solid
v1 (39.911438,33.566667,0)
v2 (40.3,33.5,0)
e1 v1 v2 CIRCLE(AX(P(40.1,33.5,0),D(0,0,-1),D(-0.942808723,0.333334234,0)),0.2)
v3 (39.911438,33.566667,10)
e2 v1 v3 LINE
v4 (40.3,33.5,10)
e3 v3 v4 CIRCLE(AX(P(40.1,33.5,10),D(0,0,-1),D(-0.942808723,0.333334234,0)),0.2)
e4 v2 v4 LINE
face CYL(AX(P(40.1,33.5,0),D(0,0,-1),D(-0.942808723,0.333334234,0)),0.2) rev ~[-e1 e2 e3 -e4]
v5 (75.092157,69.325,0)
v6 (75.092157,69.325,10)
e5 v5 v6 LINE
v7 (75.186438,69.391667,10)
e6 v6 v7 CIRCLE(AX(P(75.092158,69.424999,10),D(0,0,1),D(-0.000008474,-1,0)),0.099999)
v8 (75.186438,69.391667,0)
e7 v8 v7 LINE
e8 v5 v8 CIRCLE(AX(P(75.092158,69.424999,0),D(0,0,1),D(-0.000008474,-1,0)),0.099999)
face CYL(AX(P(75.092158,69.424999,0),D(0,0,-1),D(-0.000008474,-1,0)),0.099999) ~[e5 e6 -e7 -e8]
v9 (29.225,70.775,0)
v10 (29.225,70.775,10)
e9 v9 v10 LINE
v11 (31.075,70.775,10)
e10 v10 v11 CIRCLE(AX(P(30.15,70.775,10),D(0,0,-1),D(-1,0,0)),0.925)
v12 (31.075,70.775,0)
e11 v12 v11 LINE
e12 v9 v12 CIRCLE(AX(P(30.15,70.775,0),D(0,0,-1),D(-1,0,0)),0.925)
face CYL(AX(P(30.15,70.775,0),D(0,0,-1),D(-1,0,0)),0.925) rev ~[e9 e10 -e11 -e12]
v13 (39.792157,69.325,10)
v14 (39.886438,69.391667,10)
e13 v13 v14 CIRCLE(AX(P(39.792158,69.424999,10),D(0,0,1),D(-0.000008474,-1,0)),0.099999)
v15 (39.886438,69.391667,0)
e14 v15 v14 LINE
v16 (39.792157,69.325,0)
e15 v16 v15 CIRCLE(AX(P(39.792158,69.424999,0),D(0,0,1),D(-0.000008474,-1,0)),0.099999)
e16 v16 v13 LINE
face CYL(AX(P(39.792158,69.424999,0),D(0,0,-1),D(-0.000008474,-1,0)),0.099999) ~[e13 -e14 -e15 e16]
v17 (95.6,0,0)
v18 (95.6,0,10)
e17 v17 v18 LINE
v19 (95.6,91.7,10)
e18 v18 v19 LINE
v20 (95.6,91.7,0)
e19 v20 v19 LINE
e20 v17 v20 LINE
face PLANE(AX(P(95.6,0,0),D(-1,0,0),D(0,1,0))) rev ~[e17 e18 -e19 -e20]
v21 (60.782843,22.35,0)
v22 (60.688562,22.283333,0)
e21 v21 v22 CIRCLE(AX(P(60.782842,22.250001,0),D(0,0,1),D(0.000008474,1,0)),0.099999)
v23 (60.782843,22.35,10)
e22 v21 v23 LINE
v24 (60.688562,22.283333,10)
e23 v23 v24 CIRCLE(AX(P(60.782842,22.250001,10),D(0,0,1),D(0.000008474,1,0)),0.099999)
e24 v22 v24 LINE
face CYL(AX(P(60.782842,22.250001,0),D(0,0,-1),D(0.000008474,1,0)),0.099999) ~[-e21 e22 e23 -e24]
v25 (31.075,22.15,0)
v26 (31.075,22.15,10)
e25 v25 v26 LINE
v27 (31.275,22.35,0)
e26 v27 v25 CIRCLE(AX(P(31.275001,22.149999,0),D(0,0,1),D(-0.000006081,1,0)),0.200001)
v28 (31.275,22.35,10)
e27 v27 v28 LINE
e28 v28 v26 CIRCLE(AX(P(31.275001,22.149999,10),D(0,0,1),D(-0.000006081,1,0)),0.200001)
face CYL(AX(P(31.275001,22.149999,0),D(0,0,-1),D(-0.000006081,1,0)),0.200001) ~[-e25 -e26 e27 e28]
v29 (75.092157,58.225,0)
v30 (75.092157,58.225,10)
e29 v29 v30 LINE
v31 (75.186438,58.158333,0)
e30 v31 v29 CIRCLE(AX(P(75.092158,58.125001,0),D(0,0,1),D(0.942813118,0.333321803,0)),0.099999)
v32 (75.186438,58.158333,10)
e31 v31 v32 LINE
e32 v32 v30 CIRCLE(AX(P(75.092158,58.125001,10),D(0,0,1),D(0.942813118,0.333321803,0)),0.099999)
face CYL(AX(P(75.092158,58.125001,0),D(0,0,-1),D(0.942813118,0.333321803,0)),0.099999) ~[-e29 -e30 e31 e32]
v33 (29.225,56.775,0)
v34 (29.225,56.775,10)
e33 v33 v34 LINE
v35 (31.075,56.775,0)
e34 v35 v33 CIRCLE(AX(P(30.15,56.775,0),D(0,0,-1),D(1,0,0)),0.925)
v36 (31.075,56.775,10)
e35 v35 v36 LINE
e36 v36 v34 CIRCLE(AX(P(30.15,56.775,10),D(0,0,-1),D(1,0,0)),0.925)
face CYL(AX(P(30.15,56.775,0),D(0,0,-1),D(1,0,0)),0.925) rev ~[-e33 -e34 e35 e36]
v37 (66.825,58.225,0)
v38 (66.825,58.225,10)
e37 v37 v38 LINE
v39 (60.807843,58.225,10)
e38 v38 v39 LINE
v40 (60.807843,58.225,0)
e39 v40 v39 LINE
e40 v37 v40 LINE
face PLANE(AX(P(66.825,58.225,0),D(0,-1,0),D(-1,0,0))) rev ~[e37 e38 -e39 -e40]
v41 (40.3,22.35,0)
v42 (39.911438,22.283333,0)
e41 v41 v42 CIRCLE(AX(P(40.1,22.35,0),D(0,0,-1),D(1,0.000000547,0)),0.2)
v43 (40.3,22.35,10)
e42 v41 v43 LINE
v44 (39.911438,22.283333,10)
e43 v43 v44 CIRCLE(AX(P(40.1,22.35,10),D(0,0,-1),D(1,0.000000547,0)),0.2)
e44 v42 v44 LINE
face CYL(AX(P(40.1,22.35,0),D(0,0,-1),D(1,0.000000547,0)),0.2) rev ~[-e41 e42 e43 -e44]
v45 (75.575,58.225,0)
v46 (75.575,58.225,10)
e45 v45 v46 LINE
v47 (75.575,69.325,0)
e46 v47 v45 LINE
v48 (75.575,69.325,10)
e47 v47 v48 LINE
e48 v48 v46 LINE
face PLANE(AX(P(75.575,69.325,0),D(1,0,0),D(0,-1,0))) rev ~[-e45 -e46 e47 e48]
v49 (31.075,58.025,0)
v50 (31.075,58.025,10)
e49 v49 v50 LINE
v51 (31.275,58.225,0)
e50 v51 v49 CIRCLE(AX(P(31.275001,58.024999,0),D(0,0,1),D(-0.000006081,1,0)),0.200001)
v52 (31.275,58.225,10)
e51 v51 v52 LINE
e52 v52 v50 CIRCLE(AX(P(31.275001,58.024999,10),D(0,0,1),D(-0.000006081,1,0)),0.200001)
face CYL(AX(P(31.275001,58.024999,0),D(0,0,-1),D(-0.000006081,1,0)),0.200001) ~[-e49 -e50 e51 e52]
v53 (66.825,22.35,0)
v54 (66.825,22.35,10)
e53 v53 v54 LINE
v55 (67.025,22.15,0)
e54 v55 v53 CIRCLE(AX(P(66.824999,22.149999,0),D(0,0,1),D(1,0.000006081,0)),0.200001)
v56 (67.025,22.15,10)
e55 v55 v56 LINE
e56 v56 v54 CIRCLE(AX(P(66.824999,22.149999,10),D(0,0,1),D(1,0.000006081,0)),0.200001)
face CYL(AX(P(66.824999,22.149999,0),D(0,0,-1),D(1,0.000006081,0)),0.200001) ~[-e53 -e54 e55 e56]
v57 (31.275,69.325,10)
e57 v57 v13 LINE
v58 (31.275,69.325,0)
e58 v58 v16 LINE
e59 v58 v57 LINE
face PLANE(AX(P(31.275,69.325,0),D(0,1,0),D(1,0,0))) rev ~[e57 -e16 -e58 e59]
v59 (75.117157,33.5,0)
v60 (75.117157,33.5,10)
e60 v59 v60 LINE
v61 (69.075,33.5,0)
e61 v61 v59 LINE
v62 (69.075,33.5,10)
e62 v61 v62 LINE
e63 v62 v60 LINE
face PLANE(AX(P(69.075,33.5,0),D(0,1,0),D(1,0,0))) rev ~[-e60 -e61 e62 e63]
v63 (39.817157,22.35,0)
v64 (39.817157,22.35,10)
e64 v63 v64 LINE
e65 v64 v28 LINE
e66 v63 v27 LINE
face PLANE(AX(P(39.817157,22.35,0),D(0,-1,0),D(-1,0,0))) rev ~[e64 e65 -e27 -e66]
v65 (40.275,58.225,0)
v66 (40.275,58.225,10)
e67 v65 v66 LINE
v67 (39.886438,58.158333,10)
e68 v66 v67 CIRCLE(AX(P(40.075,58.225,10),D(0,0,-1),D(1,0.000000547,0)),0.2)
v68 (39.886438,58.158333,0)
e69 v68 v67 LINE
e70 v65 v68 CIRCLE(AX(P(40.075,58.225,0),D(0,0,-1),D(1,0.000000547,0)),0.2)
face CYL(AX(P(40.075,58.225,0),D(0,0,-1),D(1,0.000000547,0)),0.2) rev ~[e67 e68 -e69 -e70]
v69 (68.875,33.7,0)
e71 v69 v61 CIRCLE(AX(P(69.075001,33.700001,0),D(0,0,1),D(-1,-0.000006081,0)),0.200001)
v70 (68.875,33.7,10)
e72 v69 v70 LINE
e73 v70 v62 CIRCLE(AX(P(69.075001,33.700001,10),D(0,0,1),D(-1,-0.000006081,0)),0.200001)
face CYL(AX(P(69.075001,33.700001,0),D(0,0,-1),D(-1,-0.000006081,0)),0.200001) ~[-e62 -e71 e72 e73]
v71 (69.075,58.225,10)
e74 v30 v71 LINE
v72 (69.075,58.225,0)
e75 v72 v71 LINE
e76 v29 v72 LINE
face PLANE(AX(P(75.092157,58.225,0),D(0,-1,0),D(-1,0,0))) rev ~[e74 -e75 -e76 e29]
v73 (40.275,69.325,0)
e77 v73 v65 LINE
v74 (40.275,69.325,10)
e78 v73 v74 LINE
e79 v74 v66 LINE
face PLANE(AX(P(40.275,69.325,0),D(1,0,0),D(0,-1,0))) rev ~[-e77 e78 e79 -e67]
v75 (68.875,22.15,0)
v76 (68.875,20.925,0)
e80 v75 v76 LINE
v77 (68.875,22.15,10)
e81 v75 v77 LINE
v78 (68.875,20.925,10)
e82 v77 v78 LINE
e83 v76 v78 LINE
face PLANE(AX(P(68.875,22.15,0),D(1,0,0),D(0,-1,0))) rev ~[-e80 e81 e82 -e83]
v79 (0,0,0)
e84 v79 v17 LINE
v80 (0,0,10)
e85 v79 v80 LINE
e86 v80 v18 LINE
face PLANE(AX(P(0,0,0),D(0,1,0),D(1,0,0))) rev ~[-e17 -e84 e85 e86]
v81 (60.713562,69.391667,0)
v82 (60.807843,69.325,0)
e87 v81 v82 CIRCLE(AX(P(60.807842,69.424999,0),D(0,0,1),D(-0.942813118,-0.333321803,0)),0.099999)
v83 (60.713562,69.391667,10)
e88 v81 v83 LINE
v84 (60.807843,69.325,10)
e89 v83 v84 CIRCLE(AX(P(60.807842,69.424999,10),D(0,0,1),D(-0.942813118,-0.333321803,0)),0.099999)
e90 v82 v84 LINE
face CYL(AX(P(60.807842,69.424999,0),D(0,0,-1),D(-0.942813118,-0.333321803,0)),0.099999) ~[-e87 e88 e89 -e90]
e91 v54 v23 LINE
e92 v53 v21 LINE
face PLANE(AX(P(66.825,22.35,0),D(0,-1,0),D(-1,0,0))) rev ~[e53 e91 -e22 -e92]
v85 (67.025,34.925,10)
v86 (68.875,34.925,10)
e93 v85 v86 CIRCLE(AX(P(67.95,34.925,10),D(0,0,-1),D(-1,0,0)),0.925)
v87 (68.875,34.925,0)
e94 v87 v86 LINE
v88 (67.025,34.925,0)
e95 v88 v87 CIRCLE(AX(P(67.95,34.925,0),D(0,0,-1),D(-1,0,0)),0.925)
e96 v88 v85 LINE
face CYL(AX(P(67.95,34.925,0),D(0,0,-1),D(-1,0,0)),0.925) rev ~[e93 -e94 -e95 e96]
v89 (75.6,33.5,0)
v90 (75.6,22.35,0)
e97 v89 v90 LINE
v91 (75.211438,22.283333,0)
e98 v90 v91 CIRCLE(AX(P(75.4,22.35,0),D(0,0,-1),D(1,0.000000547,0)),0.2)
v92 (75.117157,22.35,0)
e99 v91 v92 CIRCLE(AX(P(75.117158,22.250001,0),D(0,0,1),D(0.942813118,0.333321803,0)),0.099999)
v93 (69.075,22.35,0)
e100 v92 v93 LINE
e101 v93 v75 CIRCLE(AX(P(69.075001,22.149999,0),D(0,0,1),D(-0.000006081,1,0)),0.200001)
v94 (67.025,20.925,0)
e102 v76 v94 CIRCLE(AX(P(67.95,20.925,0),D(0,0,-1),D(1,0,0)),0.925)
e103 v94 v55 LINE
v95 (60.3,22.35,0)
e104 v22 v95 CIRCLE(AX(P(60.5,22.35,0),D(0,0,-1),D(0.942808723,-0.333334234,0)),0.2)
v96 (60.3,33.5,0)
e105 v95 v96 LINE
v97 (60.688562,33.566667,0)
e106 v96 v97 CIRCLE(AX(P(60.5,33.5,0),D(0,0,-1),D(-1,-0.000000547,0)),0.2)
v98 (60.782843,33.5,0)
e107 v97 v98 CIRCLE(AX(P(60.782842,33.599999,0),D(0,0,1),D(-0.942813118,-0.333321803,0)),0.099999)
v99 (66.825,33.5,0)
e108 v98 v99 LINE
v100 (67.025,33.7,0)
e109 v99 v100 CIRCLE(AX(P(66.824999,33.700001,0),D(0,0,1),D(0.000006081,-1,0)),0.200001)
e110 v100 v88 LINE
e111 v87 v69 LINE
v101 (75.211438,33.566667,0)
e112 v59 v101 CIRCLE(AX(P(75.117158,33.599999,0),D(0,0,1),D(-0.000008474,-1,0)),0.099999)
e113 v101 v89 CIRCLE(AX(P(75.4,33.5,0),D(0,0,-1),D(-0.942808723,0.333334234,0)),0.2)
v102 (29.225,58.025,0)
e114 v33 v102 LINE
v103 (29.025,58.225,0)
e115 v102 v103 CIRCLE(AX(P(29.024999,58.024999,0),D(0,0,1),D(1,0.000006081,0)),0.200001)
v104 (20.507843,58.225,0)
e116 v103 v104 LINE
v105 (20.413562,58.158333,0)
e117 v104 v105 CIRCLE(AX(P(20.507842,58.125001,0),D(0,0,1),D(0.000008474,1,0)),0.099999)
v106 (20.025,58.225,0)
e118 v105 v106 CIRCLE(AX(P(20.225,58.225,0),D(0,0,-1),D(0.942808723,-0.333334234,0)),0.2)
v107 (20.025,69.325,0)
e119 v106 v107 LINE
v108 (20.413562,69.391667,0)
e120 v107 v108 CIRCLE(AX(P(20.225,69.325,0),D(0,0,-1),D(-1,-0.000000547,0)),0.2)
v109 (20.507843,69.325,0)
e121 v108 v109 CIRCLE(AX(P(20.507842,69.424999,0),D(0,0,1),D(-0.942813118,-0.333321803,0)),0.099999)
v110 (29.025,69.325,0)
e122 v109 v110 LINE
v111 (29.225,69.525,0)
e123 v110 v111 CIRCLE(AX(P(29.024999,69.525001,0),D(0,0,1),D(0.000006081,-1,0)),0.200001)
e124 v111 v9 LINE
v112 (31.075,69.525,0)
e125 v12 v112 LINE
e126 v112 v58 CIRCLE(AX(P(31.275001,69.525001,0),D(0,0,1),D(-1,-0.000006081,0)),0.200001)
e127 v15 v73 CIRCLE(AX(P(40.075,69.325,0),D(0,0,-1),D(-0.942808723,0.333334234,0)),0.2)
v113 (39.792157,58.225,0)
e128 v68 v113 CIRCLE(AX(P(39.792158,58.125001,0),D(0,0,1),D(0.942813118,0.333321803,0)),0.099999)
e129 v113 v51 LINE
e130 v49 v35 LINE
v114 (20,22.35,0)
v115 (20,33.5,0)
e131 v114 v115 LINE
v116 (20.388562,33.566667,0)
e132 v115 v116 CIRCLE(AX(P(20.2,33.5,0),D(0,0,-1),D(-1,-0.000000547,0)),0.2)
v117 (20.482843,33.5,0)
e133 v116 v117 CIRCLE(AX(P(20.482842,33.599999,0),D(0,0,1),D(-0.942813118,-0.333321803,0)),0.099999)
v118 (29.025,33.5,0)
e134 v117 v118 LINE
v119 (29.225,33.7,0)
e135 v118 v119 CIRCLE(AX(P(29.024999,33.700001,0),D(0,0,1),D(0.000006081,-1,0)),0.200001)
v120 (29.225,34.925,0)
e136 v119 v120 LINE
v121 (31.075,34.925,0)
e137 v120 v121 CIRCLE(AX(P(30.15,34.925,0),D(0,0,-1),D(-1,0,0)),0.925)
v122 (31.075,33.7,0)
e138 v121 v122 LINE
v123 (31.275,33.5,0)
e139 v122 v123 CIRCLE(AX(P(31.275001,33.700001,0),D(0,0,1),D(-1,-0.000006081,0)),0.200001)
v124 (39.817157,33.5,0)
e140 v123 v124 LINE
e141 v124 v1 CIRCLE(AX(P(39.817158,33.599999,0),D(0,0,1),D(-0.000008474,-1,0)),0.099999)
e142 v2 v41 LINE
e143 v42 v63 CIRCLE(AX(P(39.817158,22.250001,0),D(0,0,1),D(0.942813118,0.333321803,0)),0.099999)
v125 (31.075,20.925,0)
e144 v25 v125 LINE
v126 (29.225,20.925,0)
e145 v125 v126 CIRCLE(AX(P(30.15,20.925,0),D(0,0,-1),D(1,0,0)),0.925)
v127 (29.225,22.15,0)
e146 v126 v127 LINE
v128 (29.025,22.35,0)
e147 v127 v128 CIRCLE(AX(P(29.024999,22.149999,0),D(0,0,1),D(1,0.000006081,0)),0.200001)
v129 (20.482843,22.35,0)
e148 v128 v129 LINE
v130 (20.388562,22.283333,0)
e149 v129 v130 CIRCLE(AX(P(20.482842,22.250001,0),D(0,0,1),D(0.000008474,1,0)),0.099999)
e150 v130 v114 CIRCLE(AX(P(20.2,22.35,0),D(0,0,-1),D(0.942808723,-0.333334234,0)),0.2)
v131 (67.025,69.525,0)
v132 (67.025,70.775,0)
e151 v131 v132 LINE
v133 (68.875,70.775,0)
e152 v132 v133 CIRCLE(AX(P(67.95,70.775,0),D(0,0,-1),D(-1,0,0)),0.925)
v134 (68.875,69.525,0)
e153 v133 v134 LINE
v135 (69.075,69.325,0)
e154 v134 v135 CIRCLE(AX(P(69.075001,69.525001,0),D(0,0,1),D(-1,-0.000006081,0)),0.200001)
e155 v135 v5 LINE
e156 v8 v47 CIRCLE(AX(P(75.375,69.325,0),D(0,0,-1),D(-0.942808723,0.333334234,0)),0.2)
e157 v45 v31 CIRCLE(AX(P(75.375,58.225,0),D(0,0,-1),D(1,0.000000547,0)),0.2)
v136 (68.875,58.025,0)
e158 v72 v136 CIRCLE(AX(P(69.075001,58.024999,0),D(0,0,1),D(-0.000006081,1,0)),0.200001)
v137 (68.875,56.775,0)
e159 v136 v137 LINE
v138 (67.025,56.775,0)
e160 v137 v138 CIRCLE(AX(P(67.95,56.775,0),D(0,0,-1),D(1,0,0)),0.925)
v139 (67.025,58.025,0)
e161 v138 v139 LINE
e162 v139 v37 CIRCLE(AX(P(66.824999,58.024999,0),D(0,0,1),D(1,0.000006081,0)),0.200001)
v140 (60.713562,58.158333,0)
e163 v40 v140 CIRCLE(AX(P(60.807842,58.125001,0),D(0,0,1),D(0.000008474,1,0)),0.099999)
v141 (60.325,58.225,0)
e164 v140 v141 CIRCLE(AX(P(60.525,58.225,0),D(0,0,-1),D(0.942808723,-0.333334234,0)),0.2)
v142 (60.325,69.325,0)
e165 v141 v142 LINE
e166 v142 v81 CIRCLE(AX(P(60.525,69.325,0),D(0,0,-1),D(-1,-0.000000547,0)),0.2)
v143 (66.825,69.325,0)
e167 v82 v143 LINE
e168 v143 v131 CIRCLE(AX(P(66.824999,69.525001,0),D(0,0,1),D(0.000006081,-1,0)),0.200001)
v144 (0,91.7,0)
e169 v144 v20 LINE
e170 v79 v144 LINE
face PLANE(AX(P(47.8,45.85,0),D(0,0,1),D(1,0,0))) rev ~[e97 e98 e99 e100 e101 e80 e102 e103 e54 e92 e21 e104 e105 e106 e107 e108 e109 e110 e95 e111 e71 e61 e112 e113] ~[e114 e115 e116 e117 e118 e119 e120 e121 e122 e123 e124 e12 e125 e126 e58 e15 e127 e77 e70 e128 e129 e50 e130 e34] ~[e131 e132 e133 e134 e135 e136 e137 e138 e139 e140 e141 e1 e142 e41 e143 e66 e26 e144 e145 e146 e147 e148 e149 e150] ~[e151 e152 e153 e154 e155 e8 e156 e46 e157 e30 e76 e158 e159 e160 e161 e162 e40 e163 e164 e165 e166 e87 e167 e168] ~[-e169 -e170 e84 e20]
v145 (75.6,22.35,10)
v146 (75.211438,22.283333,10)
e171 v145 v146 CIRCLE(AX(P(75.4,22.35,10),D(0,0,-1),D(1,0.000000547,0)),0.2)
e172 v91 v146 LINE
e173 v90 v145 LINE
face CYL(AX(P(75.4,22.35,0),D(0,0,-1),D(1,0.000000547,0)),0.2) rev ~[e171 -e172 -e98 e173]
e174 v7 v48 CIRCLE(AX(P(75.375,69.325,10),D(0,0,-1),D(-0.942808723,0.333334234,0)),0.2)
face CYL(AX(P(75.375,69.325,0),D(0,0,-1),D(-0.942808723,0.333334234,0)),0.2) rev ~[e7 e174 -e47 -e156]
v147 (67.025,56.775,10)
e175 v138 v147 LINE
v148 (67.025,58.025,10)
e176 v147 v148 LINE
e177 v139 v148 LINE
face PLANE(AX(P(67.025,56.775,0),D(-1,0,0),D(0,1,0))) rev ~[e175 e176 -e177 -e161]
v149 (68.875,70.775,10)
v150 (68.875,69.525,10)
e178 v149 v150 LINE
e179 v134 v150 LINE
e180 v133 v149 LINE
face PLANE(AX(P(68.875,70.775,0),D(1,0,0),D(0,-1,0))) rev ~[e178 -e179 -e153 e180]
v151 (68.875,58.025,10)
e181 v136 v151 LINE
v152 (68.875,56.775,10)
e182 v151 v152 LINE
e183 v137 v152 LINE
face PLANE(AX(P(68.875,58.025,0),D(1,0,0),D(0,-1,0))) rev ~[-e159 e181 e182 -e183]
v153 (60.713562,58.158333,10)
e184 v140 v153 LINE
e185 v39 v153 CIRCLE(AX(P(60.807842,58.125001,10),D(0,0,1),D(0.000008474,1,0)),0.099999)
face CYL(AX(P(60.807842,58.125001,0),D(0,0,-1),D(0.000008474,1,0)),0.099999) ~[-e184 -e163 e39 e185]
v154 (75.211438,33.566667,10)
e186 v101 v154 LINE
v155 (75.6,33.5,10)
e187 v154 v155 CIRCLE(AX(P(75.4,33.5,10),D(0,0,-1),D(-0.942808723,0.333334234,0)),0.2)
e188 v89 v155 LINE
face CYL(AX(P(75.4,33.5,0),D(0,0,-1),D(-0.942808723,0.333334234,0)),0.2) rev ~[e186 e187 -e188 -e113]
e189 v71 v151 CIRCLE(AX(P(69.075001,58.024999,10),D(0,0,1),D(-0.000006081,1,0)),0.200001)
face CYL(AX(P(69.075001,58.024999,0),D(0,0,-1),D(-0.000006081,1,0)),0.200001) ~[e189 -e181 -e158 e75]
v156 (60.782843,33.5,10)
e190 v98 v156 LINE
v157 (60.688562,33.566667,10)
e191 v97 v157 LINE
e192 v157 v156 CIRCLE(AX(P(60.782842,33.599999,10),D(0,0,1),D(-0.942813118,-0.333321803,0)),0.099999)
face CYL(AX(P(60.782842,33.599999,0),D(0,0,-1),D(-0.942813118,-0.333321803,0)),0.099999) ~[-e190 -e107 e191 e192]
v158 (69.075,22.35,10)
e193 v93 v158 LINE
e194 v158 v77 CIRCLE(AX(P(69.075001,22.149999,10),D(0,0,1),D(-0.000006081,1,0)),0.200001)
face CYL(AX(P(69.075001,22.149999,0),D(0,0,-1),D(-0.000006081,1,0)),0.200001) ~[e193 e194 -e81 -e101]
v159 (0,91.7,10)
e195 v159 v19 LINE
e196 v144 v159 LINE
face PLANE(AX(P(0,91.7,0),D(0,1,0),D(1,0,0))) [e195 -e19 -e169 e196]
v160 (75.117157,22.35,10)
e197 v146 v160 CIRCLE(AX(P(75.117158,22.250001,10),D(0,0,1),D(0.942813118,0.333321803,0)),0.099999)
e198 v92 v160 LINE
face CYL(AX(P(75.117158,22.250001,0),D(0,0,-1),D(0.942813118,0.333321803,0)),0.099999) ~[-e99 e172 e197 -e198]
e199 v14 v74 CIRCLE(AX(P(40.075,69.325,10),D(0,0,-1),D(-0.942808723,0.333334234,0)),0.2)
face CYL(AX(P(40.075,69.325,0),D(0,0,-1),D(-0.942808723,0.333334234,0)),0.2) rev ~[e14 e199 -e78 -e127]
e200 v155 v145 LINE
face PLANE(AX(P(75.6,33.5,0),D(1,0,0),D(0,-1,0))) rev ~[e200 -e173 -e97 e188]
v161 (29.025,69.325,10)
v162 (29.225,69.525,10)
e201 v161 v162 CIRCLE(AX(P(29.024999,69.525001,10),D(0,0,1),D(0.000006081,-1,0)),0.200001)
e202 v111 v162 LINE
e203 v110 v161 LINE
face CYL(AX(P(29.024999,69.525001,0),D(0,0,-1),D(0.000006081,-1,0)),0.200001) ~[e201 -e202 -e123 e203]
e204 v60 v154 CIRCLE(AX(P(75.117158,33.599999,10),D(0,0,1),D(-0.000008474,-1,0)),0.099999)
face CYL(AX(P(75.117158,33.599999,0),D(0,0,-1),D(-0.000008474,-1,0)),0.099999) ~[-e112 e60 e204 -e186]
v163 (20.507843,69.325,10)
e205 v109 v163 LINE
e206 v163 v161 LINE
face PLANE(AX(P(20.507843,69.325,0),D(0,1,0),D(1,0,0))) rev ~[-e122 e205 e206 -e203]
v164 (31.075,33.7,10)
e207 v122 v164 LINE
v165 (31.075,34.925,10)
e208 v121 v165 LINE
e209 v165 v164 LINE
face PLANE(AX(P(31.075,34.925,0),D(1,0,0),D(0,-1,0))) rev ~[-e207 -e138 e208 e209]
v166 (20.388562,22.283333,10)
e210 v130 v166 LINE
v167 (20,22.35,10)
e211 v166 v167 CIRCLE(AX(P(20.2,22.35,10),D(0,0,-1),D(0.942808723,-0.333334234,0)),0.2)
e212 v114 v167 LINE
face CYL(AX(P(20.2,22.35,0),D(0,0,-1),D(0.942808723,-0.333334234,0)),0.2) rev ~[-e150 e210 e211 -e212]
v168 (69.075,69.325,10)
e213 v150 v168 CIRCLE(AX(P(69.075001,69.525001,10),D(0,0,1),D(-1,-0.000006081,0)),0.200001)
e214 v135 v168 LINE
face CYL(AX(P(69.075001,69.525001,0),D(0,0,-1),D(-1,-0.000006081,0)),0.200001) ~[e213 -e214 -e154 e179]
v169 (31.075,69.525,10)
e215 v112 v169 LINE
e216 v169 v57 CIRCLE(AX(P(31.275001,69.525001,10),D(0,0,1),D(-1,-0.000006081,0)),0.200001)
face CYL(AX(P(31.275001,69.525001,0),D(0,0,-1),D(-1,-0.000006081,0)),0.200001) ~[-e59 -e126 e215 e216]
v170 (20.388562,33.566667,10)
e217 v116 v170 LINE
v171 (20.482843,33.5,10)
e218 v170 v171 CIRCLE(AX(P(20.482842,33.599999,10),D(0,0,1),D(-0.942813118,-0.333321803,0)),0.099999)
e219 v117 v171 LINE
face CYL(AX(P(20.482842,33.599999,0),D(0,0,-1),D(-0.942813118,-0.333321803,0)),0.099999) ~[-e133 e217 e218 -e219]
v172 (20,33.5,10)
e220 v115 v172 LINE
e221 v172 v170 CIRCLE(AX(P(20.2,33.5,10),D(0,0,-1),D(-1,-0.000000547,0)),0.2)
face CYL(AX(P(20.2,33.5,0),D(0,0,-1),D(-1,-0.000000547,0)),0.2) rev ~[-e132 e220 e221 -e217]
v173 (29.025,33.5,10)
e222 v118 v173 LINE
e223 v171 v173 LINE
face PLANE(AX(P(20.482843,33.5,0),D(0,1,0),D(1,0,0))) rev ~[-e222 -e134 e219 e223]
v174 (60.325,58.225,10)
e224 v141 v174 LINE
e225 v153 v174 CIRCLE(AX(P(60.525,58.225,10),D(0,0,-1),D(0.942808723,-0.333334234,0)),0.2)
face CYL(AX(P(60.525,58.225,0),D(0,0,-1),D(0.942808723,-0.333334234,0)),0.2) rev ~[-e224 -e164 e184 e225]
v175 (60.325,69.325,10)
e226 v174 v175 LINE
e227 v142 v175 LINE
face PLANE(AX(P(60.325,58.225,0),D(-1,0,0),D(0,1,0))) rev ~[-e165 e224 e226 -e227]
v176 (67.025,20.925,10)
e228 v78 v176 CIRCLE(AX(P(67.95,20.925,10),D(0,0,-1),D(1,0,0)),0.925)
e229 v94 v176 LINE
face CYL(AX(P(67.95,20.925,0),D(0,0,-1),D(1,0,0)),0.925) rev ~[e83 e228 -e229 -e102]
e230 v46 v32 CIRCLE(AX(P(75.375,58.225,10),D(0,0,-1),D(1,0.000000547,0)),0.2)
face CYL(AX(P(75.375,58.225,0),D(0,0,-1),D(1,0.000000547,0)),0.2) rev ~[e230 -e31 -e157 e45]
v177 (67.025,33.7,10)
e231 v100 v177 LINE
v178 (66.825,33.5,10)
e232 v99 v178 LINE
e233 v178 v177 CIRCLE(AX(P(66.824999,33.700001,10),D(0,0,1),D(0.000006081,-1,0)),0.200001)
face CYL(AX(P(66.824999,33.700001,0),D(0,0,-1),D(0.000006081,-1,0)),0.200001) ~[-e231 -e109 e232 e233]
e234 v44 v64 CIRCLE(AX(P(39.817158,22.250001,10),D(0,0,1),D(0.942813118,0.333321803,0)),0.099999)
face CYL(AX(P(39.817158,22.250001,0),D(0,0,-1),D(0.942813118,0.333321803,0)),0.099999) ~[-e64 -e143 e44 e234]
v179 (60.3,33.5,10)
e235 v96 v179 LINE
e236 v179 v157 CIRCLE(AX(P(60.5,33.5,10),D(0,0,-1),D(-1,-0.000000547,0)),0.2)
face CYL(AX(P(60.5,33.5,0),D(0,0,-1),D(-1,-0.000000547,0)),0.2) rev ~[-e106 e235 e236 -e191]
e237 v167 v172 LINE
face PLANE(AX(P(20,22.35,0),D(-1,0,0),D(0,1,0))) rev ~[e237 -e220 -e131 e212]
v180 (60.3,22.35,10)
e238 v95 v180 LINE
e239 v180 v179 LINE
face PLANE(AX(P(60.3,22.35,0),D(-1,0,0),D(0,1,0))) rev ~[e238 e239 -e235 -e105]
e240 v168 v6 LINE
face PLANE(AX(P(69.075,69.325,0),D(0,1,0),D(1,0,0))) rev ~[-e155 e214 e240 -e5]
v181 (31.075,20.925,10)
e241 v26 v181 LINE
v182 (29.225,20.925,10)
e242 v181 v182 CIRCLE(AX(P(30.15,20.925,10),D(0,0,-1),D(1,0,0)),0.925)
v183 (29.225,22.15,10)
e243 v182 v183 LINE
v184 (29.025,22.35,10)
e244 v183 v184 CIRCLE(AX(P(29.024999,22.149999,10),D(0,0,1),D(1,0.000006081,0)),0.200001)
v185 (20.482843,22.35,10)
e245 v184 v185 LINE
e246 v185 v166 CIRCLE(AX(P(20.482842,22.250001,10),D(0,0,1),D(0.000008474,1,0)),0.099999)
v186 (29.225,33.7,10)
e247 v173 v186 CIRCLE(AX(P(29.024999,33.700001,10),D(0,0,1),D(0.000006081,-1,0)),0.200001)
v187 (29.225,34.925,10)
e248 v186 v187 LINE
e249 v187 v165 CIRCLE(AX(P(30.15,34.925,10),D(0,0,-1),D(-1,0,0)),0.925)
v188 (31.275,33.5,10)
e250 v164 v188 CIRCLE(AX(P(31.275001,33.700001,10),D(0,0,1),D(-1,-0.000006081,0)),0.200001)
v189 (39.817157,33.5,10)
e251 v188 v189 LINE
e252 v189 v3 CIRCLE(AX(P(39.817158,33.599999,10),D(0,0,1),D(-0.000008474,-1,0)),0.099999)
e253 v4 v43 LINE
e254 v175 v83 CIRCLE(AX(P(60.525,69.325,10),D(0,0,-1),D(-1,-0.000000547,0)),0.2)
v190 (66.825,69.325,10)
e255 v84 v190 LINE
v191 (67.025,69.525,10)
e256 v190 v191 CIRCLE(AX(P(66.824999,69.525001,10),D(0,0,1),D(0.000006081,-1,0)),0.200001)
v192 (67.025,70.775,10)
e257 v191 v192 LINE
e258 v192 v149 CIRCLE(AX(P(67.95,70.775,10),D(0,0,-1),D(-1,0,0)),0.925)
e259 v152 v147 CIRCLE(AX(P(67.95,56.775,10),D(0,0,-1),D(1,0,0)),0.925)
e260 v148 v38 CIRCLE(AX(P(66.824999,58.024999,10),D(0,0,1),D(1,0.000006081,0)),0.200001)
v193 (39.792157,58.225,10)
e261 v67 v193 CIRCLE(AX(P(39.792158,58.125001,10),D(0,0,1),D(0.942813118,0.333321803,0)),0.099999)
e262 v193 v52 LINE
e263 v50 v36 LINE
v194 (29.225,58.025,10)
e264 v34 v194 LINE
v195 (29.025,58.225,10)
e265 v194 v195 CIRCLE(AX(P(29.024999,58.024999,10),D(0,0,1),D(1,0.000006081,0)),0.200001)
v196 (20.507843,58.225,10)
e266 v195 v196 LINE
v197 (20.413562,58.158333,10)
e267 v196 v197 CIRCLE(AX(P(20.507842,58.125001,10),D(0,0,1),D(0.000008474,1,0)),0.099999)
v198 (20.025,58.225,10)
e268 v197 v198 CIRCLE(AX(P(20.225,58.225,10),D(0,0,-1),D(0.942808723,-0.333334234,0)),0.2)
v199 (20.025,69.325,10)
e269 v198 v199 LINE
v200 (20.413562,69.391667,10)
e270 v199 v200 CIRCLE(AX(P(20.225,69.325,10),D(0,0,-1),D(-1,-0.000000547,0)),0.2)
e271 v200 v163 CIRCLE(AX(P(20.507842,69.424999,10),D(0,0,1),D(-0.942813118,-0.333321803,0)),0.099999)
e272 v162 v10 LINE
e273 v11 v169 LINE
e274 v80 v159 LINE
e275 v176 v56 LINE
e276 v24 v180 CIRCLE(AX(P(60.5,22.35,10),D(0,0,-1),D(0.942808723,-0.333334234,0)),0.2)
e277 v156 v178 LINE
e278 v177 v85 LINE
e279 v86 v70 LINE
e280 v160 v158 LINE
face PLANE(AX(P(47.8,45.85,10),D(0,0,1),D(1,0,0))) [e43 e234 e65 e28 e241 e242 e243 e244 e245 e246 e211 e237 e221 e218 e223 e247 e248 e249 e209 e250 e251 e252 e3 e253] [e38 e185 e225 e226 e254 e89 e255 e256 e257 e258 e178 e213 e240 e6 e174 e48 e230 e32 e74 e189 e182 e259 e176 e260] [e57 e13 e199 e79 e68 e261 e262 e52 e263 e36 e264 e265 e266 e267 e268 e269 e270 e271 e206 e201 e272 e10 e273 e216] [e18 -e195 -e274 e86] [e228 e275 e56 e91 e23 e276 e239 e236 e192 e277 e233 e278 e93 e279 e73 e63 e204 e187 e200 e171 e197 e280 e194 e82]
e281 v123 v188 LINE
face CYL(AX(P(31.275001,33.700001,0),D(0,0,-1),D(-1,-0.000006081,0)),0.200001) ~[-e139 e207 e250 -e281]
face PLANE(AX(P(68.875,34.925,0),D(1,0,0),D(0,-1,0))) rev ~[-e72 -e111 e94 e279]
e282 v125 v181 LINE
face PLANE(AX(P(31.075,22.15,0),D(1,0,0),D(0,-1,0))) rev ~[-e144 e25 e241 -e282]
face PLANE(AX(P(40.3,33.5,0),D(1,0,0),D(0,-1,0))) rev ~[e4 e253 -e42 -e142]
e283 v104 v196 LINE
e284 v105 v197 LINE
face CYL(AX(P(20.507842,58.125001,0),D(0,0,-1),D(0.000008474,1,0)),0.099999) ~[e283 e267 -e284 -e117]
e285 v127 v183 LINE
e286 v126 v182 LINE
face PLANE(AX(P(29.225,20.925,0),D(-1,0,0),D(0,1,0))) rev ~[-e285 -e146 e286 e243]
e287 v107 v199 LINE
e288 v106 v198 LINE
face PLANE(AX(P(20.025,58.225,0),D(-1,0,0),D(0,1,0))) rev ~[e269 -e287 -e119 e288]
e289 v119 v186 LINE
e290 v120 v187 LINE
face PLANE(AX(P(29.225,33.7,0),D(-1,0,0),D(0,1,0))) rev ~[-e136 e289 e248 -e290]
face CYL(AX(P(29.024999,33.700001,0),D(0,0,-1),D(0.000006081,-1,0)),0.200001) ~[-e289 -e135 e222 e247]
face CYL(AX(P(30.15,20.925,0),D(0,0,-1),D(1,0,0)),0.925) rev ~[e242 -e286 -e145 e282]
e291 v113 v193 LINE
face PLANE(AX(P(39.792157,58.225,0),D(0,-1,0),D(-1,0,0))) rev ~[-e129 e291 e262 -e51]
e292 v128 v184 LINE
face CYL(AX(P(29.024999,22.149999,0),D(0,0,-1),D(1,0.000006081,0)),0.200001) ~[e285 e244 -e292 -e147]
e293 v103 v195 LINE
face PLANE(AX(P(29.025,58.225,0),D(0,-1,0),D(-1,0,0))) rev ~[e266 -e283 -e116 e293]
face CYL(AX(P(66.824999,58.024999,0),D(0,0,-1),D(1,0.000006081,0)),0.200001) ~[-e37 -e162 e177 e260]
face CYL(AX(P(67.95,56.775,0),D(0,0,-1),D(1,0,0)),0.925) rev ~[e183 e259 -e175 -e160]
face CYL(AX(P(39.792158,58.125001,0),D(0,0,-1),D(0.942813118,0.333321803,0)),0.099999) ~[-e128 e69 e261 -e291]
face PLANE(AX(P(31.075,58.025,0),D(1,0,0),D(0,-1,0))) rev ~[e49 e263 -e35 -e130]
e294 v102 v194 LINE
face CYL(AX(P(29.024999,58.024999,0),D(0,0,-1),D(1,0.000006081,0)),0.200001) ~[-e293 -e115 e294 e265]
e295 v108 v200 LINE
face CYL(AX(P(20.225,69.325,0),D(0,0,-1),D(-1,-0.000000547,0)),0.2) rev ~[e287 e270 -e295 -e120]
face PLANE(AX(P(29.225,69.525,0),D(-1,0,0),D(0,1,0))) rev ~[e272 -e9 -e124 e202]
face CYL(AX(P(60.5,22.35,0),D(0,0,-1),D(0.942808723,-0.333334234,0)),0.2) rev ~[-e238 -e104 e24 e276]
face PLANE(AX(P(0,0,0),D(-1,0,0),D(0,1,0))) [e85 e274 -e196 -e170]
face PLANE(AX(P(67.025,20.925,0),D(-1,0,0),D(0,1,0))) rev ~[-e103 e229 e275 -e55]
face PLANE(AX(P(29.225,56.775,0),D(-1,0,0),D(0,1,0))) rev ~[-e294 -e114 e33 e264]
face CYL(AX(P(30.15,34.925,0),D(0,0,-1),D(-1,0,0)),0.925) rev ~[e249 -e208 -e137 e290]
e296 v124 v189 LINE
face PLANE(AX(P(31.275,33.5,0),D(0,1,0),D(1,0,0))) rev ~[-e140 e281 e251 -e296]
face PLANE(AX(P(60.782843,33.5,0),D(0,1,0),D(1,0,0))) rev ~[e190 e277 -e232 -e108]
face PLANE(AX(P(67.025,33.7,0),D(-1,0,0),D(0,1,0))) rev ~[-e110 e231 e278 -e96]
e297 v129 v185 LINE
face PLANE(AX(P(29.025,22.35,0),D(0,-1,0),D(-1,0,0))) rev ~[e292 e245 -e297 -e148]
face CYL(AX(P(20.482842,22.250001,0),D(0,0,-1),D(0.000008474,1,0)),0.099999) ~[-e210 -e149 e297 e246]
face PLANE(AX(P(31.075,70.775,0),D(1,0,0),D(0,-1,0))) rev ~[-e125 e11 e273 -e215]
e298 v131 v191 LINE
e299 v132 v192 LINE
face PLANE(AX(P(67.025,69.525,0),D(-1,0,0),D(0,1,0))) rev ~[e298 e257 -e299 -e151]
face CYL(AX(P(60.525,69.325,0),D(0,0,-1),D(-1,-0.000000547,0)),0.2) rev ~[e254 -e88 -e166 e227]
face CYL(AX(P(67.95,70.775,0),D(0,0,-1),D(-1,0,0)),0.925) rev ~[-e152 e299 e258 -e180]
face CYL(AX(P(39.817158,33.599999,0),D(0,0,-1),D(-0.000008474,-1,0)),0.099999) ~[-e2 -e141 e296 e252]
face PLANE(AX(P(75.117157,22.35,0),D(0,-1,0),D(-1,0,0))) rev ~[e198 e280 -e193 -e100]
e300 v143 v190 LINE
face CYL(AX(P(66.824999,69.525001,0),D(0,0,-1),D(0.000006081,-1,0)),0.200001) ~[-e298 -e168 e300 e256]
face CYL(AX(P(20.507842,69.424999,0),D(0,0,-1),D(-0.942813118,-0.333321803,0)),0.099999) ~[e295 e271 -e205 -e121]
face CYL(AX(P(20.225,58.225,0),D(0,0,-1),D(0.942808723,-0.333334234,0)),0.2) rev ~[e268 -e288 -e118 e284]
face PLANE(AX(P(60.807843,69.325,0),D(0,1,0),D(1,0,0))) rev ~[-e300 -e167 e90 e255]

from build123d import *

# Parameters (mm, degrees)
F0_W     = 95.6
F0_H     = 91.7
F1_DEPTH = 10


with BuildPart() as f1:
    # F0 (on Top) → F1 (new body)
    with BuildSketch(Plane.XY):
        with Locations((47.8, 45.85)):
            Rectangle(F0_W, F0_H)
        with BuildLine():
            ThreePointArc((29.025, 33.5), (29.166421, 33.558579), (29.225, 33.7))
            Line((29.225, 33.7), (29.225, 34.925))
            ThreePointArc((29.225, 34.925), (30.15, 35.85), (31.075, 34.925))
            Line((31.075, 34.925), (31.075, 33.7))
            ThreePointArc((31.075, 33.7), (31.133579, 33.558579), (31.275, 33.5))
            Line((31.275, 33.5), (39.817157, 33.5))
            ThreePointArc((39.817157, 33.5), (39.874892, 33.51835), (39.911438, 33.566667))
            ThreePointArc((39.911438, 33.566667), (40.13382, 33.69712), (40.3, 33.5))
            Line((40.3, 33.5), (40.3, 22.35))
            ThreePointArc((40.3, 22.35), (40.13382, 22.15288), (39.911438, 22.283333))
            ThreePointArc((39.911438, 22.283333), (39.874892, 22.33165), (39.817157, 22.35))
            Line((39.817157, 22.35), (31.275, 22.35))
            ThreePointArc((31.275, 22.35), (31.133579, 22.291421), (31.075, 22.15))
            Line((31.075, 22.15), (31.075, 20.925))
            ThreePointArc((31.075, 20.925), (30.15, 20), (29.225, 20.925))
            Line((29.225, 20.925), (29.225, 22.15))
            ThreePointArc((29.225, 22.15), (29.166421, 22.291421), (29.025, 22.35))
            Line((29.025, 22.35), (20.482843, 22.35))
            ThreePointArc((20.482843, 22.35), (20.425108, 22.33165), (20.388562, 22.283333))
            ThreePointArc((20.388562, 22.283333), (20.16618, 22.15288), (20, 22.35))
            Line((20, 22.35), (20, 33.5))
            ThreePointArc((20, 33.5), (20.16618, 33.69712), (20.388562, 33.566667))
            ThreePointArc((20.388562, 33.566667), (20.425108, 33.51835), (20.482843, 33.5))
            Line((20.482843, 33.5), (29.025, 33.5))
        make_face(mode=Mode.SUBTRACT)
        with BuildLine():
            ThreePointArc((66.825, 33.5), (66.966421, 33.558579), (67.025, 33.7))
            Line((67.025, 33.7), (67.025, 34.925))
            ThreePointArc((67.025, 34.925), (67.95, 35.85), (68.875, 34.925))
            Line((68.875, 34.925), (68.875, 33.7))
            ThreePointArc((68.875, 33.7), (68.933579, 33.558579), (69.075, 33.5))
            Line((69.075, 33.5), (75.117157, 33.5))
            ThreePointArc((75.117157, 33.5), (75.174892, 33.51835), (75.211438, 33.566667))
            ThreePointArc((75.211438, 33.566667), (75.43382, 33.69712), (75.6, 33.5))
            Line((75.6, 33.5), (75.6, 22.35))
            ThreePointArc((75.6, 22.35), (75.43382, 22.15288), (75.211438, 22.283333))
            ThreePointArc((75.211438, 22.283333), (75.174892, 22.33165), (75.117157, 22.35))
            Line((75.117157, 22.35), (69.075, 22.35))
            ThreePointArc((69.075, 22.35), (68.933579, 22.291421), (68.875, 22.15))
            Line((68.875, 22.15), (68.875, 20.925))
            ThreePointArc((68.875, 20.925), (67.95, 20), (67.025, 20.925))
            Line((67.025, 20.925), (67.025, 22.15))
            ThreePointArc((67.025, 22.15), (66.966421, 22.291421), (66.825, 22.35))
            Line((66.825, 22.35), (60.782843, 22.35))
            ThreePointArc((60.782843, 22.35), (60.725108, 22.33165), (60.688562, 22.283333))
            ThreePointArc((60.688562, 22.283333), (60.46618, 22.15288), (60.3, 22.35))
            Line((60.3, 22.35), (60.3, 33.5))
            ThreePointArc((60.3, 33.5), (60.46618, 33.69712), (60.688562, 33.566667))
            ThreePointArc((60.688562, 33.566667), (60.725108, 33.51835), (60.782843, 33.5))
            Line((60.782843, 33.5), (66.825, 33.5))
        make_face(mode=Mode.SUBTRACT)
        with BuildLine():
            ThreePointArc((29.025, 69.325), (29.166421, 69.383579), (29.225, 69.525))
            Line((29.225, 69.525), (29.225, 70.775))
            ThreePointArc((29.225, 70.775), (30.15, 71.7), (31.075, 70.775))
            Line((31.075, 70.775), (31.075, 69.525))
            ThreePointArc((31.075, 69.525), (31.133579, 69.383579), (31.275, 69.325))
            Line((31.275, 69.325), (39.792157, 69.325))
            ThreePointArc((39.792157, 69.325), (39.849892, 69.34335), (39.886438, 69.391667))
            ThreePointArc((39.886438, 69.391667), (40.10882, 69.52212), (40.275, 69.325))
            Line((40.275, 69.325), (40.275, 58.225))
            ThreePointArc((40.275, 58.225), (40.10882, 58.02788), (39.886438, 58.158333))
            ThreePointArc((39.886438, 58.158333), (39.849892, 58.20665), (39.792157, 58.225))
            Line((39.792157, 58.225), (31.275, 58.225))
            ThreePointArc((31.275, 58.225), (31.133579, 58.166421), (31.075, 58.025))
            Line((31.075, 58.025), (31.075, 56.775))
            ThreePointArc((31.075, 56.775), (30.15, 55.85), (29.225, 56.775))
            Line((29.225, 56.775), (29.225, 58.025))
            ThreePointArc((29.225, 58.025), (29.166421, 58.166421), (29.025, 58.225))
            Line((29.025, 58.225), (20.507843, 58.225))
            ThreePointArc((20.507843, 58.225), (20.450108, 58.20665), (20.413562, 58.158333))
            ThreePointArc((20.413562, 58.158333), (20.19118, 58.02788), (20.025, 58.225))
            Line((20.025, 58.225), (20.025, 69.325))
            ThreePointArc((20.025, 69.325), (20.19118, 69.52212), (20.413562, 69.391667))
            ThreePointArc((20.413562, 69.391667), (20.450108, 69.34335), (20.507843, 69.325))
            Line((20.507843, 69.325), (29.025, 69.325))
        make_face(mode=Mode.SUBTRACT)
        with BuildLine():
            ThreePointArc((66.825, 69.325), (66.966421, 69.383579), (67.025, 69.525))
            Line((67.025, 69.525), (67.025, 70.775))
            ThreePointArc((67.025, 70.775), (67.95, 71.7), (68.875, 70.775))
            Line((68.875, 70.775), (68.875, 69.525))
            ThreePointArc((68.875, 69.525), (68.933579, 69.383579), (69.075, 69.325))
            Line((69.075, 69.325), (75.092157, 69.325))
            ThreePointArc((75.092157, 69.325), (75.149892, 69.34335), (75.186438, 69.391667))
            ThreePointArc((75.186438, 69.391667), (75.40882, 69.52212), (75.575, 69.325))
            Line((75.575, 69.325), (75.575, 58.225))
            ThreePointArc((75.575, 58.225), (75.40882, 58.02788), (75.186438, 58.158333))
            ThreePointArc((75.186438, 58.158333), (75.149892, 58.20665), (75.092157, 58.225))
            Line((75.092157, 58.225), (69.075, 58.225))
            ThreePointArc((69.075, 58.225), (68.933579, 58.166421), (68.875, 58.025))
            Line((68.875, 58.025), (68.875, 56.775))
            ThreePointArc((68.875, 56.775), (67.95, 55.85), (67.025, 56.775))
            Line((67.025, 56.775), (67.025, 58.025))
            ThreePointArc((67.025, 58.025), (66.966421, 58.166421), (66.825, 58.225))
            Line((66.825, 58.225), (60.807843, 58.225))
            ThreePointArc((60.807843, 58.225), (60.750108, 58.20665), (60.713562, 58.158333))
            ThreePointArc((60.713562, 58.158333), (60.49118, 58.02788), (60.325, 58.225))
            Line((60.325, 58.225), (60.325, 69.325))
            ThreePointArc((60.325, 69.325), (60.49118, 69.52212), (60.713562, 69.391667))
            ThreePointArc((60.713562, 69.391667), (60.750108, 69.34335), (60.807843, 69.325))
            Line((60.807843, 69.325), (66.825, 69.325))
        make_face(mode=Mode.SUBTRACT)
    extrude(amount=F1_DEPTH)


solid = f1.part
